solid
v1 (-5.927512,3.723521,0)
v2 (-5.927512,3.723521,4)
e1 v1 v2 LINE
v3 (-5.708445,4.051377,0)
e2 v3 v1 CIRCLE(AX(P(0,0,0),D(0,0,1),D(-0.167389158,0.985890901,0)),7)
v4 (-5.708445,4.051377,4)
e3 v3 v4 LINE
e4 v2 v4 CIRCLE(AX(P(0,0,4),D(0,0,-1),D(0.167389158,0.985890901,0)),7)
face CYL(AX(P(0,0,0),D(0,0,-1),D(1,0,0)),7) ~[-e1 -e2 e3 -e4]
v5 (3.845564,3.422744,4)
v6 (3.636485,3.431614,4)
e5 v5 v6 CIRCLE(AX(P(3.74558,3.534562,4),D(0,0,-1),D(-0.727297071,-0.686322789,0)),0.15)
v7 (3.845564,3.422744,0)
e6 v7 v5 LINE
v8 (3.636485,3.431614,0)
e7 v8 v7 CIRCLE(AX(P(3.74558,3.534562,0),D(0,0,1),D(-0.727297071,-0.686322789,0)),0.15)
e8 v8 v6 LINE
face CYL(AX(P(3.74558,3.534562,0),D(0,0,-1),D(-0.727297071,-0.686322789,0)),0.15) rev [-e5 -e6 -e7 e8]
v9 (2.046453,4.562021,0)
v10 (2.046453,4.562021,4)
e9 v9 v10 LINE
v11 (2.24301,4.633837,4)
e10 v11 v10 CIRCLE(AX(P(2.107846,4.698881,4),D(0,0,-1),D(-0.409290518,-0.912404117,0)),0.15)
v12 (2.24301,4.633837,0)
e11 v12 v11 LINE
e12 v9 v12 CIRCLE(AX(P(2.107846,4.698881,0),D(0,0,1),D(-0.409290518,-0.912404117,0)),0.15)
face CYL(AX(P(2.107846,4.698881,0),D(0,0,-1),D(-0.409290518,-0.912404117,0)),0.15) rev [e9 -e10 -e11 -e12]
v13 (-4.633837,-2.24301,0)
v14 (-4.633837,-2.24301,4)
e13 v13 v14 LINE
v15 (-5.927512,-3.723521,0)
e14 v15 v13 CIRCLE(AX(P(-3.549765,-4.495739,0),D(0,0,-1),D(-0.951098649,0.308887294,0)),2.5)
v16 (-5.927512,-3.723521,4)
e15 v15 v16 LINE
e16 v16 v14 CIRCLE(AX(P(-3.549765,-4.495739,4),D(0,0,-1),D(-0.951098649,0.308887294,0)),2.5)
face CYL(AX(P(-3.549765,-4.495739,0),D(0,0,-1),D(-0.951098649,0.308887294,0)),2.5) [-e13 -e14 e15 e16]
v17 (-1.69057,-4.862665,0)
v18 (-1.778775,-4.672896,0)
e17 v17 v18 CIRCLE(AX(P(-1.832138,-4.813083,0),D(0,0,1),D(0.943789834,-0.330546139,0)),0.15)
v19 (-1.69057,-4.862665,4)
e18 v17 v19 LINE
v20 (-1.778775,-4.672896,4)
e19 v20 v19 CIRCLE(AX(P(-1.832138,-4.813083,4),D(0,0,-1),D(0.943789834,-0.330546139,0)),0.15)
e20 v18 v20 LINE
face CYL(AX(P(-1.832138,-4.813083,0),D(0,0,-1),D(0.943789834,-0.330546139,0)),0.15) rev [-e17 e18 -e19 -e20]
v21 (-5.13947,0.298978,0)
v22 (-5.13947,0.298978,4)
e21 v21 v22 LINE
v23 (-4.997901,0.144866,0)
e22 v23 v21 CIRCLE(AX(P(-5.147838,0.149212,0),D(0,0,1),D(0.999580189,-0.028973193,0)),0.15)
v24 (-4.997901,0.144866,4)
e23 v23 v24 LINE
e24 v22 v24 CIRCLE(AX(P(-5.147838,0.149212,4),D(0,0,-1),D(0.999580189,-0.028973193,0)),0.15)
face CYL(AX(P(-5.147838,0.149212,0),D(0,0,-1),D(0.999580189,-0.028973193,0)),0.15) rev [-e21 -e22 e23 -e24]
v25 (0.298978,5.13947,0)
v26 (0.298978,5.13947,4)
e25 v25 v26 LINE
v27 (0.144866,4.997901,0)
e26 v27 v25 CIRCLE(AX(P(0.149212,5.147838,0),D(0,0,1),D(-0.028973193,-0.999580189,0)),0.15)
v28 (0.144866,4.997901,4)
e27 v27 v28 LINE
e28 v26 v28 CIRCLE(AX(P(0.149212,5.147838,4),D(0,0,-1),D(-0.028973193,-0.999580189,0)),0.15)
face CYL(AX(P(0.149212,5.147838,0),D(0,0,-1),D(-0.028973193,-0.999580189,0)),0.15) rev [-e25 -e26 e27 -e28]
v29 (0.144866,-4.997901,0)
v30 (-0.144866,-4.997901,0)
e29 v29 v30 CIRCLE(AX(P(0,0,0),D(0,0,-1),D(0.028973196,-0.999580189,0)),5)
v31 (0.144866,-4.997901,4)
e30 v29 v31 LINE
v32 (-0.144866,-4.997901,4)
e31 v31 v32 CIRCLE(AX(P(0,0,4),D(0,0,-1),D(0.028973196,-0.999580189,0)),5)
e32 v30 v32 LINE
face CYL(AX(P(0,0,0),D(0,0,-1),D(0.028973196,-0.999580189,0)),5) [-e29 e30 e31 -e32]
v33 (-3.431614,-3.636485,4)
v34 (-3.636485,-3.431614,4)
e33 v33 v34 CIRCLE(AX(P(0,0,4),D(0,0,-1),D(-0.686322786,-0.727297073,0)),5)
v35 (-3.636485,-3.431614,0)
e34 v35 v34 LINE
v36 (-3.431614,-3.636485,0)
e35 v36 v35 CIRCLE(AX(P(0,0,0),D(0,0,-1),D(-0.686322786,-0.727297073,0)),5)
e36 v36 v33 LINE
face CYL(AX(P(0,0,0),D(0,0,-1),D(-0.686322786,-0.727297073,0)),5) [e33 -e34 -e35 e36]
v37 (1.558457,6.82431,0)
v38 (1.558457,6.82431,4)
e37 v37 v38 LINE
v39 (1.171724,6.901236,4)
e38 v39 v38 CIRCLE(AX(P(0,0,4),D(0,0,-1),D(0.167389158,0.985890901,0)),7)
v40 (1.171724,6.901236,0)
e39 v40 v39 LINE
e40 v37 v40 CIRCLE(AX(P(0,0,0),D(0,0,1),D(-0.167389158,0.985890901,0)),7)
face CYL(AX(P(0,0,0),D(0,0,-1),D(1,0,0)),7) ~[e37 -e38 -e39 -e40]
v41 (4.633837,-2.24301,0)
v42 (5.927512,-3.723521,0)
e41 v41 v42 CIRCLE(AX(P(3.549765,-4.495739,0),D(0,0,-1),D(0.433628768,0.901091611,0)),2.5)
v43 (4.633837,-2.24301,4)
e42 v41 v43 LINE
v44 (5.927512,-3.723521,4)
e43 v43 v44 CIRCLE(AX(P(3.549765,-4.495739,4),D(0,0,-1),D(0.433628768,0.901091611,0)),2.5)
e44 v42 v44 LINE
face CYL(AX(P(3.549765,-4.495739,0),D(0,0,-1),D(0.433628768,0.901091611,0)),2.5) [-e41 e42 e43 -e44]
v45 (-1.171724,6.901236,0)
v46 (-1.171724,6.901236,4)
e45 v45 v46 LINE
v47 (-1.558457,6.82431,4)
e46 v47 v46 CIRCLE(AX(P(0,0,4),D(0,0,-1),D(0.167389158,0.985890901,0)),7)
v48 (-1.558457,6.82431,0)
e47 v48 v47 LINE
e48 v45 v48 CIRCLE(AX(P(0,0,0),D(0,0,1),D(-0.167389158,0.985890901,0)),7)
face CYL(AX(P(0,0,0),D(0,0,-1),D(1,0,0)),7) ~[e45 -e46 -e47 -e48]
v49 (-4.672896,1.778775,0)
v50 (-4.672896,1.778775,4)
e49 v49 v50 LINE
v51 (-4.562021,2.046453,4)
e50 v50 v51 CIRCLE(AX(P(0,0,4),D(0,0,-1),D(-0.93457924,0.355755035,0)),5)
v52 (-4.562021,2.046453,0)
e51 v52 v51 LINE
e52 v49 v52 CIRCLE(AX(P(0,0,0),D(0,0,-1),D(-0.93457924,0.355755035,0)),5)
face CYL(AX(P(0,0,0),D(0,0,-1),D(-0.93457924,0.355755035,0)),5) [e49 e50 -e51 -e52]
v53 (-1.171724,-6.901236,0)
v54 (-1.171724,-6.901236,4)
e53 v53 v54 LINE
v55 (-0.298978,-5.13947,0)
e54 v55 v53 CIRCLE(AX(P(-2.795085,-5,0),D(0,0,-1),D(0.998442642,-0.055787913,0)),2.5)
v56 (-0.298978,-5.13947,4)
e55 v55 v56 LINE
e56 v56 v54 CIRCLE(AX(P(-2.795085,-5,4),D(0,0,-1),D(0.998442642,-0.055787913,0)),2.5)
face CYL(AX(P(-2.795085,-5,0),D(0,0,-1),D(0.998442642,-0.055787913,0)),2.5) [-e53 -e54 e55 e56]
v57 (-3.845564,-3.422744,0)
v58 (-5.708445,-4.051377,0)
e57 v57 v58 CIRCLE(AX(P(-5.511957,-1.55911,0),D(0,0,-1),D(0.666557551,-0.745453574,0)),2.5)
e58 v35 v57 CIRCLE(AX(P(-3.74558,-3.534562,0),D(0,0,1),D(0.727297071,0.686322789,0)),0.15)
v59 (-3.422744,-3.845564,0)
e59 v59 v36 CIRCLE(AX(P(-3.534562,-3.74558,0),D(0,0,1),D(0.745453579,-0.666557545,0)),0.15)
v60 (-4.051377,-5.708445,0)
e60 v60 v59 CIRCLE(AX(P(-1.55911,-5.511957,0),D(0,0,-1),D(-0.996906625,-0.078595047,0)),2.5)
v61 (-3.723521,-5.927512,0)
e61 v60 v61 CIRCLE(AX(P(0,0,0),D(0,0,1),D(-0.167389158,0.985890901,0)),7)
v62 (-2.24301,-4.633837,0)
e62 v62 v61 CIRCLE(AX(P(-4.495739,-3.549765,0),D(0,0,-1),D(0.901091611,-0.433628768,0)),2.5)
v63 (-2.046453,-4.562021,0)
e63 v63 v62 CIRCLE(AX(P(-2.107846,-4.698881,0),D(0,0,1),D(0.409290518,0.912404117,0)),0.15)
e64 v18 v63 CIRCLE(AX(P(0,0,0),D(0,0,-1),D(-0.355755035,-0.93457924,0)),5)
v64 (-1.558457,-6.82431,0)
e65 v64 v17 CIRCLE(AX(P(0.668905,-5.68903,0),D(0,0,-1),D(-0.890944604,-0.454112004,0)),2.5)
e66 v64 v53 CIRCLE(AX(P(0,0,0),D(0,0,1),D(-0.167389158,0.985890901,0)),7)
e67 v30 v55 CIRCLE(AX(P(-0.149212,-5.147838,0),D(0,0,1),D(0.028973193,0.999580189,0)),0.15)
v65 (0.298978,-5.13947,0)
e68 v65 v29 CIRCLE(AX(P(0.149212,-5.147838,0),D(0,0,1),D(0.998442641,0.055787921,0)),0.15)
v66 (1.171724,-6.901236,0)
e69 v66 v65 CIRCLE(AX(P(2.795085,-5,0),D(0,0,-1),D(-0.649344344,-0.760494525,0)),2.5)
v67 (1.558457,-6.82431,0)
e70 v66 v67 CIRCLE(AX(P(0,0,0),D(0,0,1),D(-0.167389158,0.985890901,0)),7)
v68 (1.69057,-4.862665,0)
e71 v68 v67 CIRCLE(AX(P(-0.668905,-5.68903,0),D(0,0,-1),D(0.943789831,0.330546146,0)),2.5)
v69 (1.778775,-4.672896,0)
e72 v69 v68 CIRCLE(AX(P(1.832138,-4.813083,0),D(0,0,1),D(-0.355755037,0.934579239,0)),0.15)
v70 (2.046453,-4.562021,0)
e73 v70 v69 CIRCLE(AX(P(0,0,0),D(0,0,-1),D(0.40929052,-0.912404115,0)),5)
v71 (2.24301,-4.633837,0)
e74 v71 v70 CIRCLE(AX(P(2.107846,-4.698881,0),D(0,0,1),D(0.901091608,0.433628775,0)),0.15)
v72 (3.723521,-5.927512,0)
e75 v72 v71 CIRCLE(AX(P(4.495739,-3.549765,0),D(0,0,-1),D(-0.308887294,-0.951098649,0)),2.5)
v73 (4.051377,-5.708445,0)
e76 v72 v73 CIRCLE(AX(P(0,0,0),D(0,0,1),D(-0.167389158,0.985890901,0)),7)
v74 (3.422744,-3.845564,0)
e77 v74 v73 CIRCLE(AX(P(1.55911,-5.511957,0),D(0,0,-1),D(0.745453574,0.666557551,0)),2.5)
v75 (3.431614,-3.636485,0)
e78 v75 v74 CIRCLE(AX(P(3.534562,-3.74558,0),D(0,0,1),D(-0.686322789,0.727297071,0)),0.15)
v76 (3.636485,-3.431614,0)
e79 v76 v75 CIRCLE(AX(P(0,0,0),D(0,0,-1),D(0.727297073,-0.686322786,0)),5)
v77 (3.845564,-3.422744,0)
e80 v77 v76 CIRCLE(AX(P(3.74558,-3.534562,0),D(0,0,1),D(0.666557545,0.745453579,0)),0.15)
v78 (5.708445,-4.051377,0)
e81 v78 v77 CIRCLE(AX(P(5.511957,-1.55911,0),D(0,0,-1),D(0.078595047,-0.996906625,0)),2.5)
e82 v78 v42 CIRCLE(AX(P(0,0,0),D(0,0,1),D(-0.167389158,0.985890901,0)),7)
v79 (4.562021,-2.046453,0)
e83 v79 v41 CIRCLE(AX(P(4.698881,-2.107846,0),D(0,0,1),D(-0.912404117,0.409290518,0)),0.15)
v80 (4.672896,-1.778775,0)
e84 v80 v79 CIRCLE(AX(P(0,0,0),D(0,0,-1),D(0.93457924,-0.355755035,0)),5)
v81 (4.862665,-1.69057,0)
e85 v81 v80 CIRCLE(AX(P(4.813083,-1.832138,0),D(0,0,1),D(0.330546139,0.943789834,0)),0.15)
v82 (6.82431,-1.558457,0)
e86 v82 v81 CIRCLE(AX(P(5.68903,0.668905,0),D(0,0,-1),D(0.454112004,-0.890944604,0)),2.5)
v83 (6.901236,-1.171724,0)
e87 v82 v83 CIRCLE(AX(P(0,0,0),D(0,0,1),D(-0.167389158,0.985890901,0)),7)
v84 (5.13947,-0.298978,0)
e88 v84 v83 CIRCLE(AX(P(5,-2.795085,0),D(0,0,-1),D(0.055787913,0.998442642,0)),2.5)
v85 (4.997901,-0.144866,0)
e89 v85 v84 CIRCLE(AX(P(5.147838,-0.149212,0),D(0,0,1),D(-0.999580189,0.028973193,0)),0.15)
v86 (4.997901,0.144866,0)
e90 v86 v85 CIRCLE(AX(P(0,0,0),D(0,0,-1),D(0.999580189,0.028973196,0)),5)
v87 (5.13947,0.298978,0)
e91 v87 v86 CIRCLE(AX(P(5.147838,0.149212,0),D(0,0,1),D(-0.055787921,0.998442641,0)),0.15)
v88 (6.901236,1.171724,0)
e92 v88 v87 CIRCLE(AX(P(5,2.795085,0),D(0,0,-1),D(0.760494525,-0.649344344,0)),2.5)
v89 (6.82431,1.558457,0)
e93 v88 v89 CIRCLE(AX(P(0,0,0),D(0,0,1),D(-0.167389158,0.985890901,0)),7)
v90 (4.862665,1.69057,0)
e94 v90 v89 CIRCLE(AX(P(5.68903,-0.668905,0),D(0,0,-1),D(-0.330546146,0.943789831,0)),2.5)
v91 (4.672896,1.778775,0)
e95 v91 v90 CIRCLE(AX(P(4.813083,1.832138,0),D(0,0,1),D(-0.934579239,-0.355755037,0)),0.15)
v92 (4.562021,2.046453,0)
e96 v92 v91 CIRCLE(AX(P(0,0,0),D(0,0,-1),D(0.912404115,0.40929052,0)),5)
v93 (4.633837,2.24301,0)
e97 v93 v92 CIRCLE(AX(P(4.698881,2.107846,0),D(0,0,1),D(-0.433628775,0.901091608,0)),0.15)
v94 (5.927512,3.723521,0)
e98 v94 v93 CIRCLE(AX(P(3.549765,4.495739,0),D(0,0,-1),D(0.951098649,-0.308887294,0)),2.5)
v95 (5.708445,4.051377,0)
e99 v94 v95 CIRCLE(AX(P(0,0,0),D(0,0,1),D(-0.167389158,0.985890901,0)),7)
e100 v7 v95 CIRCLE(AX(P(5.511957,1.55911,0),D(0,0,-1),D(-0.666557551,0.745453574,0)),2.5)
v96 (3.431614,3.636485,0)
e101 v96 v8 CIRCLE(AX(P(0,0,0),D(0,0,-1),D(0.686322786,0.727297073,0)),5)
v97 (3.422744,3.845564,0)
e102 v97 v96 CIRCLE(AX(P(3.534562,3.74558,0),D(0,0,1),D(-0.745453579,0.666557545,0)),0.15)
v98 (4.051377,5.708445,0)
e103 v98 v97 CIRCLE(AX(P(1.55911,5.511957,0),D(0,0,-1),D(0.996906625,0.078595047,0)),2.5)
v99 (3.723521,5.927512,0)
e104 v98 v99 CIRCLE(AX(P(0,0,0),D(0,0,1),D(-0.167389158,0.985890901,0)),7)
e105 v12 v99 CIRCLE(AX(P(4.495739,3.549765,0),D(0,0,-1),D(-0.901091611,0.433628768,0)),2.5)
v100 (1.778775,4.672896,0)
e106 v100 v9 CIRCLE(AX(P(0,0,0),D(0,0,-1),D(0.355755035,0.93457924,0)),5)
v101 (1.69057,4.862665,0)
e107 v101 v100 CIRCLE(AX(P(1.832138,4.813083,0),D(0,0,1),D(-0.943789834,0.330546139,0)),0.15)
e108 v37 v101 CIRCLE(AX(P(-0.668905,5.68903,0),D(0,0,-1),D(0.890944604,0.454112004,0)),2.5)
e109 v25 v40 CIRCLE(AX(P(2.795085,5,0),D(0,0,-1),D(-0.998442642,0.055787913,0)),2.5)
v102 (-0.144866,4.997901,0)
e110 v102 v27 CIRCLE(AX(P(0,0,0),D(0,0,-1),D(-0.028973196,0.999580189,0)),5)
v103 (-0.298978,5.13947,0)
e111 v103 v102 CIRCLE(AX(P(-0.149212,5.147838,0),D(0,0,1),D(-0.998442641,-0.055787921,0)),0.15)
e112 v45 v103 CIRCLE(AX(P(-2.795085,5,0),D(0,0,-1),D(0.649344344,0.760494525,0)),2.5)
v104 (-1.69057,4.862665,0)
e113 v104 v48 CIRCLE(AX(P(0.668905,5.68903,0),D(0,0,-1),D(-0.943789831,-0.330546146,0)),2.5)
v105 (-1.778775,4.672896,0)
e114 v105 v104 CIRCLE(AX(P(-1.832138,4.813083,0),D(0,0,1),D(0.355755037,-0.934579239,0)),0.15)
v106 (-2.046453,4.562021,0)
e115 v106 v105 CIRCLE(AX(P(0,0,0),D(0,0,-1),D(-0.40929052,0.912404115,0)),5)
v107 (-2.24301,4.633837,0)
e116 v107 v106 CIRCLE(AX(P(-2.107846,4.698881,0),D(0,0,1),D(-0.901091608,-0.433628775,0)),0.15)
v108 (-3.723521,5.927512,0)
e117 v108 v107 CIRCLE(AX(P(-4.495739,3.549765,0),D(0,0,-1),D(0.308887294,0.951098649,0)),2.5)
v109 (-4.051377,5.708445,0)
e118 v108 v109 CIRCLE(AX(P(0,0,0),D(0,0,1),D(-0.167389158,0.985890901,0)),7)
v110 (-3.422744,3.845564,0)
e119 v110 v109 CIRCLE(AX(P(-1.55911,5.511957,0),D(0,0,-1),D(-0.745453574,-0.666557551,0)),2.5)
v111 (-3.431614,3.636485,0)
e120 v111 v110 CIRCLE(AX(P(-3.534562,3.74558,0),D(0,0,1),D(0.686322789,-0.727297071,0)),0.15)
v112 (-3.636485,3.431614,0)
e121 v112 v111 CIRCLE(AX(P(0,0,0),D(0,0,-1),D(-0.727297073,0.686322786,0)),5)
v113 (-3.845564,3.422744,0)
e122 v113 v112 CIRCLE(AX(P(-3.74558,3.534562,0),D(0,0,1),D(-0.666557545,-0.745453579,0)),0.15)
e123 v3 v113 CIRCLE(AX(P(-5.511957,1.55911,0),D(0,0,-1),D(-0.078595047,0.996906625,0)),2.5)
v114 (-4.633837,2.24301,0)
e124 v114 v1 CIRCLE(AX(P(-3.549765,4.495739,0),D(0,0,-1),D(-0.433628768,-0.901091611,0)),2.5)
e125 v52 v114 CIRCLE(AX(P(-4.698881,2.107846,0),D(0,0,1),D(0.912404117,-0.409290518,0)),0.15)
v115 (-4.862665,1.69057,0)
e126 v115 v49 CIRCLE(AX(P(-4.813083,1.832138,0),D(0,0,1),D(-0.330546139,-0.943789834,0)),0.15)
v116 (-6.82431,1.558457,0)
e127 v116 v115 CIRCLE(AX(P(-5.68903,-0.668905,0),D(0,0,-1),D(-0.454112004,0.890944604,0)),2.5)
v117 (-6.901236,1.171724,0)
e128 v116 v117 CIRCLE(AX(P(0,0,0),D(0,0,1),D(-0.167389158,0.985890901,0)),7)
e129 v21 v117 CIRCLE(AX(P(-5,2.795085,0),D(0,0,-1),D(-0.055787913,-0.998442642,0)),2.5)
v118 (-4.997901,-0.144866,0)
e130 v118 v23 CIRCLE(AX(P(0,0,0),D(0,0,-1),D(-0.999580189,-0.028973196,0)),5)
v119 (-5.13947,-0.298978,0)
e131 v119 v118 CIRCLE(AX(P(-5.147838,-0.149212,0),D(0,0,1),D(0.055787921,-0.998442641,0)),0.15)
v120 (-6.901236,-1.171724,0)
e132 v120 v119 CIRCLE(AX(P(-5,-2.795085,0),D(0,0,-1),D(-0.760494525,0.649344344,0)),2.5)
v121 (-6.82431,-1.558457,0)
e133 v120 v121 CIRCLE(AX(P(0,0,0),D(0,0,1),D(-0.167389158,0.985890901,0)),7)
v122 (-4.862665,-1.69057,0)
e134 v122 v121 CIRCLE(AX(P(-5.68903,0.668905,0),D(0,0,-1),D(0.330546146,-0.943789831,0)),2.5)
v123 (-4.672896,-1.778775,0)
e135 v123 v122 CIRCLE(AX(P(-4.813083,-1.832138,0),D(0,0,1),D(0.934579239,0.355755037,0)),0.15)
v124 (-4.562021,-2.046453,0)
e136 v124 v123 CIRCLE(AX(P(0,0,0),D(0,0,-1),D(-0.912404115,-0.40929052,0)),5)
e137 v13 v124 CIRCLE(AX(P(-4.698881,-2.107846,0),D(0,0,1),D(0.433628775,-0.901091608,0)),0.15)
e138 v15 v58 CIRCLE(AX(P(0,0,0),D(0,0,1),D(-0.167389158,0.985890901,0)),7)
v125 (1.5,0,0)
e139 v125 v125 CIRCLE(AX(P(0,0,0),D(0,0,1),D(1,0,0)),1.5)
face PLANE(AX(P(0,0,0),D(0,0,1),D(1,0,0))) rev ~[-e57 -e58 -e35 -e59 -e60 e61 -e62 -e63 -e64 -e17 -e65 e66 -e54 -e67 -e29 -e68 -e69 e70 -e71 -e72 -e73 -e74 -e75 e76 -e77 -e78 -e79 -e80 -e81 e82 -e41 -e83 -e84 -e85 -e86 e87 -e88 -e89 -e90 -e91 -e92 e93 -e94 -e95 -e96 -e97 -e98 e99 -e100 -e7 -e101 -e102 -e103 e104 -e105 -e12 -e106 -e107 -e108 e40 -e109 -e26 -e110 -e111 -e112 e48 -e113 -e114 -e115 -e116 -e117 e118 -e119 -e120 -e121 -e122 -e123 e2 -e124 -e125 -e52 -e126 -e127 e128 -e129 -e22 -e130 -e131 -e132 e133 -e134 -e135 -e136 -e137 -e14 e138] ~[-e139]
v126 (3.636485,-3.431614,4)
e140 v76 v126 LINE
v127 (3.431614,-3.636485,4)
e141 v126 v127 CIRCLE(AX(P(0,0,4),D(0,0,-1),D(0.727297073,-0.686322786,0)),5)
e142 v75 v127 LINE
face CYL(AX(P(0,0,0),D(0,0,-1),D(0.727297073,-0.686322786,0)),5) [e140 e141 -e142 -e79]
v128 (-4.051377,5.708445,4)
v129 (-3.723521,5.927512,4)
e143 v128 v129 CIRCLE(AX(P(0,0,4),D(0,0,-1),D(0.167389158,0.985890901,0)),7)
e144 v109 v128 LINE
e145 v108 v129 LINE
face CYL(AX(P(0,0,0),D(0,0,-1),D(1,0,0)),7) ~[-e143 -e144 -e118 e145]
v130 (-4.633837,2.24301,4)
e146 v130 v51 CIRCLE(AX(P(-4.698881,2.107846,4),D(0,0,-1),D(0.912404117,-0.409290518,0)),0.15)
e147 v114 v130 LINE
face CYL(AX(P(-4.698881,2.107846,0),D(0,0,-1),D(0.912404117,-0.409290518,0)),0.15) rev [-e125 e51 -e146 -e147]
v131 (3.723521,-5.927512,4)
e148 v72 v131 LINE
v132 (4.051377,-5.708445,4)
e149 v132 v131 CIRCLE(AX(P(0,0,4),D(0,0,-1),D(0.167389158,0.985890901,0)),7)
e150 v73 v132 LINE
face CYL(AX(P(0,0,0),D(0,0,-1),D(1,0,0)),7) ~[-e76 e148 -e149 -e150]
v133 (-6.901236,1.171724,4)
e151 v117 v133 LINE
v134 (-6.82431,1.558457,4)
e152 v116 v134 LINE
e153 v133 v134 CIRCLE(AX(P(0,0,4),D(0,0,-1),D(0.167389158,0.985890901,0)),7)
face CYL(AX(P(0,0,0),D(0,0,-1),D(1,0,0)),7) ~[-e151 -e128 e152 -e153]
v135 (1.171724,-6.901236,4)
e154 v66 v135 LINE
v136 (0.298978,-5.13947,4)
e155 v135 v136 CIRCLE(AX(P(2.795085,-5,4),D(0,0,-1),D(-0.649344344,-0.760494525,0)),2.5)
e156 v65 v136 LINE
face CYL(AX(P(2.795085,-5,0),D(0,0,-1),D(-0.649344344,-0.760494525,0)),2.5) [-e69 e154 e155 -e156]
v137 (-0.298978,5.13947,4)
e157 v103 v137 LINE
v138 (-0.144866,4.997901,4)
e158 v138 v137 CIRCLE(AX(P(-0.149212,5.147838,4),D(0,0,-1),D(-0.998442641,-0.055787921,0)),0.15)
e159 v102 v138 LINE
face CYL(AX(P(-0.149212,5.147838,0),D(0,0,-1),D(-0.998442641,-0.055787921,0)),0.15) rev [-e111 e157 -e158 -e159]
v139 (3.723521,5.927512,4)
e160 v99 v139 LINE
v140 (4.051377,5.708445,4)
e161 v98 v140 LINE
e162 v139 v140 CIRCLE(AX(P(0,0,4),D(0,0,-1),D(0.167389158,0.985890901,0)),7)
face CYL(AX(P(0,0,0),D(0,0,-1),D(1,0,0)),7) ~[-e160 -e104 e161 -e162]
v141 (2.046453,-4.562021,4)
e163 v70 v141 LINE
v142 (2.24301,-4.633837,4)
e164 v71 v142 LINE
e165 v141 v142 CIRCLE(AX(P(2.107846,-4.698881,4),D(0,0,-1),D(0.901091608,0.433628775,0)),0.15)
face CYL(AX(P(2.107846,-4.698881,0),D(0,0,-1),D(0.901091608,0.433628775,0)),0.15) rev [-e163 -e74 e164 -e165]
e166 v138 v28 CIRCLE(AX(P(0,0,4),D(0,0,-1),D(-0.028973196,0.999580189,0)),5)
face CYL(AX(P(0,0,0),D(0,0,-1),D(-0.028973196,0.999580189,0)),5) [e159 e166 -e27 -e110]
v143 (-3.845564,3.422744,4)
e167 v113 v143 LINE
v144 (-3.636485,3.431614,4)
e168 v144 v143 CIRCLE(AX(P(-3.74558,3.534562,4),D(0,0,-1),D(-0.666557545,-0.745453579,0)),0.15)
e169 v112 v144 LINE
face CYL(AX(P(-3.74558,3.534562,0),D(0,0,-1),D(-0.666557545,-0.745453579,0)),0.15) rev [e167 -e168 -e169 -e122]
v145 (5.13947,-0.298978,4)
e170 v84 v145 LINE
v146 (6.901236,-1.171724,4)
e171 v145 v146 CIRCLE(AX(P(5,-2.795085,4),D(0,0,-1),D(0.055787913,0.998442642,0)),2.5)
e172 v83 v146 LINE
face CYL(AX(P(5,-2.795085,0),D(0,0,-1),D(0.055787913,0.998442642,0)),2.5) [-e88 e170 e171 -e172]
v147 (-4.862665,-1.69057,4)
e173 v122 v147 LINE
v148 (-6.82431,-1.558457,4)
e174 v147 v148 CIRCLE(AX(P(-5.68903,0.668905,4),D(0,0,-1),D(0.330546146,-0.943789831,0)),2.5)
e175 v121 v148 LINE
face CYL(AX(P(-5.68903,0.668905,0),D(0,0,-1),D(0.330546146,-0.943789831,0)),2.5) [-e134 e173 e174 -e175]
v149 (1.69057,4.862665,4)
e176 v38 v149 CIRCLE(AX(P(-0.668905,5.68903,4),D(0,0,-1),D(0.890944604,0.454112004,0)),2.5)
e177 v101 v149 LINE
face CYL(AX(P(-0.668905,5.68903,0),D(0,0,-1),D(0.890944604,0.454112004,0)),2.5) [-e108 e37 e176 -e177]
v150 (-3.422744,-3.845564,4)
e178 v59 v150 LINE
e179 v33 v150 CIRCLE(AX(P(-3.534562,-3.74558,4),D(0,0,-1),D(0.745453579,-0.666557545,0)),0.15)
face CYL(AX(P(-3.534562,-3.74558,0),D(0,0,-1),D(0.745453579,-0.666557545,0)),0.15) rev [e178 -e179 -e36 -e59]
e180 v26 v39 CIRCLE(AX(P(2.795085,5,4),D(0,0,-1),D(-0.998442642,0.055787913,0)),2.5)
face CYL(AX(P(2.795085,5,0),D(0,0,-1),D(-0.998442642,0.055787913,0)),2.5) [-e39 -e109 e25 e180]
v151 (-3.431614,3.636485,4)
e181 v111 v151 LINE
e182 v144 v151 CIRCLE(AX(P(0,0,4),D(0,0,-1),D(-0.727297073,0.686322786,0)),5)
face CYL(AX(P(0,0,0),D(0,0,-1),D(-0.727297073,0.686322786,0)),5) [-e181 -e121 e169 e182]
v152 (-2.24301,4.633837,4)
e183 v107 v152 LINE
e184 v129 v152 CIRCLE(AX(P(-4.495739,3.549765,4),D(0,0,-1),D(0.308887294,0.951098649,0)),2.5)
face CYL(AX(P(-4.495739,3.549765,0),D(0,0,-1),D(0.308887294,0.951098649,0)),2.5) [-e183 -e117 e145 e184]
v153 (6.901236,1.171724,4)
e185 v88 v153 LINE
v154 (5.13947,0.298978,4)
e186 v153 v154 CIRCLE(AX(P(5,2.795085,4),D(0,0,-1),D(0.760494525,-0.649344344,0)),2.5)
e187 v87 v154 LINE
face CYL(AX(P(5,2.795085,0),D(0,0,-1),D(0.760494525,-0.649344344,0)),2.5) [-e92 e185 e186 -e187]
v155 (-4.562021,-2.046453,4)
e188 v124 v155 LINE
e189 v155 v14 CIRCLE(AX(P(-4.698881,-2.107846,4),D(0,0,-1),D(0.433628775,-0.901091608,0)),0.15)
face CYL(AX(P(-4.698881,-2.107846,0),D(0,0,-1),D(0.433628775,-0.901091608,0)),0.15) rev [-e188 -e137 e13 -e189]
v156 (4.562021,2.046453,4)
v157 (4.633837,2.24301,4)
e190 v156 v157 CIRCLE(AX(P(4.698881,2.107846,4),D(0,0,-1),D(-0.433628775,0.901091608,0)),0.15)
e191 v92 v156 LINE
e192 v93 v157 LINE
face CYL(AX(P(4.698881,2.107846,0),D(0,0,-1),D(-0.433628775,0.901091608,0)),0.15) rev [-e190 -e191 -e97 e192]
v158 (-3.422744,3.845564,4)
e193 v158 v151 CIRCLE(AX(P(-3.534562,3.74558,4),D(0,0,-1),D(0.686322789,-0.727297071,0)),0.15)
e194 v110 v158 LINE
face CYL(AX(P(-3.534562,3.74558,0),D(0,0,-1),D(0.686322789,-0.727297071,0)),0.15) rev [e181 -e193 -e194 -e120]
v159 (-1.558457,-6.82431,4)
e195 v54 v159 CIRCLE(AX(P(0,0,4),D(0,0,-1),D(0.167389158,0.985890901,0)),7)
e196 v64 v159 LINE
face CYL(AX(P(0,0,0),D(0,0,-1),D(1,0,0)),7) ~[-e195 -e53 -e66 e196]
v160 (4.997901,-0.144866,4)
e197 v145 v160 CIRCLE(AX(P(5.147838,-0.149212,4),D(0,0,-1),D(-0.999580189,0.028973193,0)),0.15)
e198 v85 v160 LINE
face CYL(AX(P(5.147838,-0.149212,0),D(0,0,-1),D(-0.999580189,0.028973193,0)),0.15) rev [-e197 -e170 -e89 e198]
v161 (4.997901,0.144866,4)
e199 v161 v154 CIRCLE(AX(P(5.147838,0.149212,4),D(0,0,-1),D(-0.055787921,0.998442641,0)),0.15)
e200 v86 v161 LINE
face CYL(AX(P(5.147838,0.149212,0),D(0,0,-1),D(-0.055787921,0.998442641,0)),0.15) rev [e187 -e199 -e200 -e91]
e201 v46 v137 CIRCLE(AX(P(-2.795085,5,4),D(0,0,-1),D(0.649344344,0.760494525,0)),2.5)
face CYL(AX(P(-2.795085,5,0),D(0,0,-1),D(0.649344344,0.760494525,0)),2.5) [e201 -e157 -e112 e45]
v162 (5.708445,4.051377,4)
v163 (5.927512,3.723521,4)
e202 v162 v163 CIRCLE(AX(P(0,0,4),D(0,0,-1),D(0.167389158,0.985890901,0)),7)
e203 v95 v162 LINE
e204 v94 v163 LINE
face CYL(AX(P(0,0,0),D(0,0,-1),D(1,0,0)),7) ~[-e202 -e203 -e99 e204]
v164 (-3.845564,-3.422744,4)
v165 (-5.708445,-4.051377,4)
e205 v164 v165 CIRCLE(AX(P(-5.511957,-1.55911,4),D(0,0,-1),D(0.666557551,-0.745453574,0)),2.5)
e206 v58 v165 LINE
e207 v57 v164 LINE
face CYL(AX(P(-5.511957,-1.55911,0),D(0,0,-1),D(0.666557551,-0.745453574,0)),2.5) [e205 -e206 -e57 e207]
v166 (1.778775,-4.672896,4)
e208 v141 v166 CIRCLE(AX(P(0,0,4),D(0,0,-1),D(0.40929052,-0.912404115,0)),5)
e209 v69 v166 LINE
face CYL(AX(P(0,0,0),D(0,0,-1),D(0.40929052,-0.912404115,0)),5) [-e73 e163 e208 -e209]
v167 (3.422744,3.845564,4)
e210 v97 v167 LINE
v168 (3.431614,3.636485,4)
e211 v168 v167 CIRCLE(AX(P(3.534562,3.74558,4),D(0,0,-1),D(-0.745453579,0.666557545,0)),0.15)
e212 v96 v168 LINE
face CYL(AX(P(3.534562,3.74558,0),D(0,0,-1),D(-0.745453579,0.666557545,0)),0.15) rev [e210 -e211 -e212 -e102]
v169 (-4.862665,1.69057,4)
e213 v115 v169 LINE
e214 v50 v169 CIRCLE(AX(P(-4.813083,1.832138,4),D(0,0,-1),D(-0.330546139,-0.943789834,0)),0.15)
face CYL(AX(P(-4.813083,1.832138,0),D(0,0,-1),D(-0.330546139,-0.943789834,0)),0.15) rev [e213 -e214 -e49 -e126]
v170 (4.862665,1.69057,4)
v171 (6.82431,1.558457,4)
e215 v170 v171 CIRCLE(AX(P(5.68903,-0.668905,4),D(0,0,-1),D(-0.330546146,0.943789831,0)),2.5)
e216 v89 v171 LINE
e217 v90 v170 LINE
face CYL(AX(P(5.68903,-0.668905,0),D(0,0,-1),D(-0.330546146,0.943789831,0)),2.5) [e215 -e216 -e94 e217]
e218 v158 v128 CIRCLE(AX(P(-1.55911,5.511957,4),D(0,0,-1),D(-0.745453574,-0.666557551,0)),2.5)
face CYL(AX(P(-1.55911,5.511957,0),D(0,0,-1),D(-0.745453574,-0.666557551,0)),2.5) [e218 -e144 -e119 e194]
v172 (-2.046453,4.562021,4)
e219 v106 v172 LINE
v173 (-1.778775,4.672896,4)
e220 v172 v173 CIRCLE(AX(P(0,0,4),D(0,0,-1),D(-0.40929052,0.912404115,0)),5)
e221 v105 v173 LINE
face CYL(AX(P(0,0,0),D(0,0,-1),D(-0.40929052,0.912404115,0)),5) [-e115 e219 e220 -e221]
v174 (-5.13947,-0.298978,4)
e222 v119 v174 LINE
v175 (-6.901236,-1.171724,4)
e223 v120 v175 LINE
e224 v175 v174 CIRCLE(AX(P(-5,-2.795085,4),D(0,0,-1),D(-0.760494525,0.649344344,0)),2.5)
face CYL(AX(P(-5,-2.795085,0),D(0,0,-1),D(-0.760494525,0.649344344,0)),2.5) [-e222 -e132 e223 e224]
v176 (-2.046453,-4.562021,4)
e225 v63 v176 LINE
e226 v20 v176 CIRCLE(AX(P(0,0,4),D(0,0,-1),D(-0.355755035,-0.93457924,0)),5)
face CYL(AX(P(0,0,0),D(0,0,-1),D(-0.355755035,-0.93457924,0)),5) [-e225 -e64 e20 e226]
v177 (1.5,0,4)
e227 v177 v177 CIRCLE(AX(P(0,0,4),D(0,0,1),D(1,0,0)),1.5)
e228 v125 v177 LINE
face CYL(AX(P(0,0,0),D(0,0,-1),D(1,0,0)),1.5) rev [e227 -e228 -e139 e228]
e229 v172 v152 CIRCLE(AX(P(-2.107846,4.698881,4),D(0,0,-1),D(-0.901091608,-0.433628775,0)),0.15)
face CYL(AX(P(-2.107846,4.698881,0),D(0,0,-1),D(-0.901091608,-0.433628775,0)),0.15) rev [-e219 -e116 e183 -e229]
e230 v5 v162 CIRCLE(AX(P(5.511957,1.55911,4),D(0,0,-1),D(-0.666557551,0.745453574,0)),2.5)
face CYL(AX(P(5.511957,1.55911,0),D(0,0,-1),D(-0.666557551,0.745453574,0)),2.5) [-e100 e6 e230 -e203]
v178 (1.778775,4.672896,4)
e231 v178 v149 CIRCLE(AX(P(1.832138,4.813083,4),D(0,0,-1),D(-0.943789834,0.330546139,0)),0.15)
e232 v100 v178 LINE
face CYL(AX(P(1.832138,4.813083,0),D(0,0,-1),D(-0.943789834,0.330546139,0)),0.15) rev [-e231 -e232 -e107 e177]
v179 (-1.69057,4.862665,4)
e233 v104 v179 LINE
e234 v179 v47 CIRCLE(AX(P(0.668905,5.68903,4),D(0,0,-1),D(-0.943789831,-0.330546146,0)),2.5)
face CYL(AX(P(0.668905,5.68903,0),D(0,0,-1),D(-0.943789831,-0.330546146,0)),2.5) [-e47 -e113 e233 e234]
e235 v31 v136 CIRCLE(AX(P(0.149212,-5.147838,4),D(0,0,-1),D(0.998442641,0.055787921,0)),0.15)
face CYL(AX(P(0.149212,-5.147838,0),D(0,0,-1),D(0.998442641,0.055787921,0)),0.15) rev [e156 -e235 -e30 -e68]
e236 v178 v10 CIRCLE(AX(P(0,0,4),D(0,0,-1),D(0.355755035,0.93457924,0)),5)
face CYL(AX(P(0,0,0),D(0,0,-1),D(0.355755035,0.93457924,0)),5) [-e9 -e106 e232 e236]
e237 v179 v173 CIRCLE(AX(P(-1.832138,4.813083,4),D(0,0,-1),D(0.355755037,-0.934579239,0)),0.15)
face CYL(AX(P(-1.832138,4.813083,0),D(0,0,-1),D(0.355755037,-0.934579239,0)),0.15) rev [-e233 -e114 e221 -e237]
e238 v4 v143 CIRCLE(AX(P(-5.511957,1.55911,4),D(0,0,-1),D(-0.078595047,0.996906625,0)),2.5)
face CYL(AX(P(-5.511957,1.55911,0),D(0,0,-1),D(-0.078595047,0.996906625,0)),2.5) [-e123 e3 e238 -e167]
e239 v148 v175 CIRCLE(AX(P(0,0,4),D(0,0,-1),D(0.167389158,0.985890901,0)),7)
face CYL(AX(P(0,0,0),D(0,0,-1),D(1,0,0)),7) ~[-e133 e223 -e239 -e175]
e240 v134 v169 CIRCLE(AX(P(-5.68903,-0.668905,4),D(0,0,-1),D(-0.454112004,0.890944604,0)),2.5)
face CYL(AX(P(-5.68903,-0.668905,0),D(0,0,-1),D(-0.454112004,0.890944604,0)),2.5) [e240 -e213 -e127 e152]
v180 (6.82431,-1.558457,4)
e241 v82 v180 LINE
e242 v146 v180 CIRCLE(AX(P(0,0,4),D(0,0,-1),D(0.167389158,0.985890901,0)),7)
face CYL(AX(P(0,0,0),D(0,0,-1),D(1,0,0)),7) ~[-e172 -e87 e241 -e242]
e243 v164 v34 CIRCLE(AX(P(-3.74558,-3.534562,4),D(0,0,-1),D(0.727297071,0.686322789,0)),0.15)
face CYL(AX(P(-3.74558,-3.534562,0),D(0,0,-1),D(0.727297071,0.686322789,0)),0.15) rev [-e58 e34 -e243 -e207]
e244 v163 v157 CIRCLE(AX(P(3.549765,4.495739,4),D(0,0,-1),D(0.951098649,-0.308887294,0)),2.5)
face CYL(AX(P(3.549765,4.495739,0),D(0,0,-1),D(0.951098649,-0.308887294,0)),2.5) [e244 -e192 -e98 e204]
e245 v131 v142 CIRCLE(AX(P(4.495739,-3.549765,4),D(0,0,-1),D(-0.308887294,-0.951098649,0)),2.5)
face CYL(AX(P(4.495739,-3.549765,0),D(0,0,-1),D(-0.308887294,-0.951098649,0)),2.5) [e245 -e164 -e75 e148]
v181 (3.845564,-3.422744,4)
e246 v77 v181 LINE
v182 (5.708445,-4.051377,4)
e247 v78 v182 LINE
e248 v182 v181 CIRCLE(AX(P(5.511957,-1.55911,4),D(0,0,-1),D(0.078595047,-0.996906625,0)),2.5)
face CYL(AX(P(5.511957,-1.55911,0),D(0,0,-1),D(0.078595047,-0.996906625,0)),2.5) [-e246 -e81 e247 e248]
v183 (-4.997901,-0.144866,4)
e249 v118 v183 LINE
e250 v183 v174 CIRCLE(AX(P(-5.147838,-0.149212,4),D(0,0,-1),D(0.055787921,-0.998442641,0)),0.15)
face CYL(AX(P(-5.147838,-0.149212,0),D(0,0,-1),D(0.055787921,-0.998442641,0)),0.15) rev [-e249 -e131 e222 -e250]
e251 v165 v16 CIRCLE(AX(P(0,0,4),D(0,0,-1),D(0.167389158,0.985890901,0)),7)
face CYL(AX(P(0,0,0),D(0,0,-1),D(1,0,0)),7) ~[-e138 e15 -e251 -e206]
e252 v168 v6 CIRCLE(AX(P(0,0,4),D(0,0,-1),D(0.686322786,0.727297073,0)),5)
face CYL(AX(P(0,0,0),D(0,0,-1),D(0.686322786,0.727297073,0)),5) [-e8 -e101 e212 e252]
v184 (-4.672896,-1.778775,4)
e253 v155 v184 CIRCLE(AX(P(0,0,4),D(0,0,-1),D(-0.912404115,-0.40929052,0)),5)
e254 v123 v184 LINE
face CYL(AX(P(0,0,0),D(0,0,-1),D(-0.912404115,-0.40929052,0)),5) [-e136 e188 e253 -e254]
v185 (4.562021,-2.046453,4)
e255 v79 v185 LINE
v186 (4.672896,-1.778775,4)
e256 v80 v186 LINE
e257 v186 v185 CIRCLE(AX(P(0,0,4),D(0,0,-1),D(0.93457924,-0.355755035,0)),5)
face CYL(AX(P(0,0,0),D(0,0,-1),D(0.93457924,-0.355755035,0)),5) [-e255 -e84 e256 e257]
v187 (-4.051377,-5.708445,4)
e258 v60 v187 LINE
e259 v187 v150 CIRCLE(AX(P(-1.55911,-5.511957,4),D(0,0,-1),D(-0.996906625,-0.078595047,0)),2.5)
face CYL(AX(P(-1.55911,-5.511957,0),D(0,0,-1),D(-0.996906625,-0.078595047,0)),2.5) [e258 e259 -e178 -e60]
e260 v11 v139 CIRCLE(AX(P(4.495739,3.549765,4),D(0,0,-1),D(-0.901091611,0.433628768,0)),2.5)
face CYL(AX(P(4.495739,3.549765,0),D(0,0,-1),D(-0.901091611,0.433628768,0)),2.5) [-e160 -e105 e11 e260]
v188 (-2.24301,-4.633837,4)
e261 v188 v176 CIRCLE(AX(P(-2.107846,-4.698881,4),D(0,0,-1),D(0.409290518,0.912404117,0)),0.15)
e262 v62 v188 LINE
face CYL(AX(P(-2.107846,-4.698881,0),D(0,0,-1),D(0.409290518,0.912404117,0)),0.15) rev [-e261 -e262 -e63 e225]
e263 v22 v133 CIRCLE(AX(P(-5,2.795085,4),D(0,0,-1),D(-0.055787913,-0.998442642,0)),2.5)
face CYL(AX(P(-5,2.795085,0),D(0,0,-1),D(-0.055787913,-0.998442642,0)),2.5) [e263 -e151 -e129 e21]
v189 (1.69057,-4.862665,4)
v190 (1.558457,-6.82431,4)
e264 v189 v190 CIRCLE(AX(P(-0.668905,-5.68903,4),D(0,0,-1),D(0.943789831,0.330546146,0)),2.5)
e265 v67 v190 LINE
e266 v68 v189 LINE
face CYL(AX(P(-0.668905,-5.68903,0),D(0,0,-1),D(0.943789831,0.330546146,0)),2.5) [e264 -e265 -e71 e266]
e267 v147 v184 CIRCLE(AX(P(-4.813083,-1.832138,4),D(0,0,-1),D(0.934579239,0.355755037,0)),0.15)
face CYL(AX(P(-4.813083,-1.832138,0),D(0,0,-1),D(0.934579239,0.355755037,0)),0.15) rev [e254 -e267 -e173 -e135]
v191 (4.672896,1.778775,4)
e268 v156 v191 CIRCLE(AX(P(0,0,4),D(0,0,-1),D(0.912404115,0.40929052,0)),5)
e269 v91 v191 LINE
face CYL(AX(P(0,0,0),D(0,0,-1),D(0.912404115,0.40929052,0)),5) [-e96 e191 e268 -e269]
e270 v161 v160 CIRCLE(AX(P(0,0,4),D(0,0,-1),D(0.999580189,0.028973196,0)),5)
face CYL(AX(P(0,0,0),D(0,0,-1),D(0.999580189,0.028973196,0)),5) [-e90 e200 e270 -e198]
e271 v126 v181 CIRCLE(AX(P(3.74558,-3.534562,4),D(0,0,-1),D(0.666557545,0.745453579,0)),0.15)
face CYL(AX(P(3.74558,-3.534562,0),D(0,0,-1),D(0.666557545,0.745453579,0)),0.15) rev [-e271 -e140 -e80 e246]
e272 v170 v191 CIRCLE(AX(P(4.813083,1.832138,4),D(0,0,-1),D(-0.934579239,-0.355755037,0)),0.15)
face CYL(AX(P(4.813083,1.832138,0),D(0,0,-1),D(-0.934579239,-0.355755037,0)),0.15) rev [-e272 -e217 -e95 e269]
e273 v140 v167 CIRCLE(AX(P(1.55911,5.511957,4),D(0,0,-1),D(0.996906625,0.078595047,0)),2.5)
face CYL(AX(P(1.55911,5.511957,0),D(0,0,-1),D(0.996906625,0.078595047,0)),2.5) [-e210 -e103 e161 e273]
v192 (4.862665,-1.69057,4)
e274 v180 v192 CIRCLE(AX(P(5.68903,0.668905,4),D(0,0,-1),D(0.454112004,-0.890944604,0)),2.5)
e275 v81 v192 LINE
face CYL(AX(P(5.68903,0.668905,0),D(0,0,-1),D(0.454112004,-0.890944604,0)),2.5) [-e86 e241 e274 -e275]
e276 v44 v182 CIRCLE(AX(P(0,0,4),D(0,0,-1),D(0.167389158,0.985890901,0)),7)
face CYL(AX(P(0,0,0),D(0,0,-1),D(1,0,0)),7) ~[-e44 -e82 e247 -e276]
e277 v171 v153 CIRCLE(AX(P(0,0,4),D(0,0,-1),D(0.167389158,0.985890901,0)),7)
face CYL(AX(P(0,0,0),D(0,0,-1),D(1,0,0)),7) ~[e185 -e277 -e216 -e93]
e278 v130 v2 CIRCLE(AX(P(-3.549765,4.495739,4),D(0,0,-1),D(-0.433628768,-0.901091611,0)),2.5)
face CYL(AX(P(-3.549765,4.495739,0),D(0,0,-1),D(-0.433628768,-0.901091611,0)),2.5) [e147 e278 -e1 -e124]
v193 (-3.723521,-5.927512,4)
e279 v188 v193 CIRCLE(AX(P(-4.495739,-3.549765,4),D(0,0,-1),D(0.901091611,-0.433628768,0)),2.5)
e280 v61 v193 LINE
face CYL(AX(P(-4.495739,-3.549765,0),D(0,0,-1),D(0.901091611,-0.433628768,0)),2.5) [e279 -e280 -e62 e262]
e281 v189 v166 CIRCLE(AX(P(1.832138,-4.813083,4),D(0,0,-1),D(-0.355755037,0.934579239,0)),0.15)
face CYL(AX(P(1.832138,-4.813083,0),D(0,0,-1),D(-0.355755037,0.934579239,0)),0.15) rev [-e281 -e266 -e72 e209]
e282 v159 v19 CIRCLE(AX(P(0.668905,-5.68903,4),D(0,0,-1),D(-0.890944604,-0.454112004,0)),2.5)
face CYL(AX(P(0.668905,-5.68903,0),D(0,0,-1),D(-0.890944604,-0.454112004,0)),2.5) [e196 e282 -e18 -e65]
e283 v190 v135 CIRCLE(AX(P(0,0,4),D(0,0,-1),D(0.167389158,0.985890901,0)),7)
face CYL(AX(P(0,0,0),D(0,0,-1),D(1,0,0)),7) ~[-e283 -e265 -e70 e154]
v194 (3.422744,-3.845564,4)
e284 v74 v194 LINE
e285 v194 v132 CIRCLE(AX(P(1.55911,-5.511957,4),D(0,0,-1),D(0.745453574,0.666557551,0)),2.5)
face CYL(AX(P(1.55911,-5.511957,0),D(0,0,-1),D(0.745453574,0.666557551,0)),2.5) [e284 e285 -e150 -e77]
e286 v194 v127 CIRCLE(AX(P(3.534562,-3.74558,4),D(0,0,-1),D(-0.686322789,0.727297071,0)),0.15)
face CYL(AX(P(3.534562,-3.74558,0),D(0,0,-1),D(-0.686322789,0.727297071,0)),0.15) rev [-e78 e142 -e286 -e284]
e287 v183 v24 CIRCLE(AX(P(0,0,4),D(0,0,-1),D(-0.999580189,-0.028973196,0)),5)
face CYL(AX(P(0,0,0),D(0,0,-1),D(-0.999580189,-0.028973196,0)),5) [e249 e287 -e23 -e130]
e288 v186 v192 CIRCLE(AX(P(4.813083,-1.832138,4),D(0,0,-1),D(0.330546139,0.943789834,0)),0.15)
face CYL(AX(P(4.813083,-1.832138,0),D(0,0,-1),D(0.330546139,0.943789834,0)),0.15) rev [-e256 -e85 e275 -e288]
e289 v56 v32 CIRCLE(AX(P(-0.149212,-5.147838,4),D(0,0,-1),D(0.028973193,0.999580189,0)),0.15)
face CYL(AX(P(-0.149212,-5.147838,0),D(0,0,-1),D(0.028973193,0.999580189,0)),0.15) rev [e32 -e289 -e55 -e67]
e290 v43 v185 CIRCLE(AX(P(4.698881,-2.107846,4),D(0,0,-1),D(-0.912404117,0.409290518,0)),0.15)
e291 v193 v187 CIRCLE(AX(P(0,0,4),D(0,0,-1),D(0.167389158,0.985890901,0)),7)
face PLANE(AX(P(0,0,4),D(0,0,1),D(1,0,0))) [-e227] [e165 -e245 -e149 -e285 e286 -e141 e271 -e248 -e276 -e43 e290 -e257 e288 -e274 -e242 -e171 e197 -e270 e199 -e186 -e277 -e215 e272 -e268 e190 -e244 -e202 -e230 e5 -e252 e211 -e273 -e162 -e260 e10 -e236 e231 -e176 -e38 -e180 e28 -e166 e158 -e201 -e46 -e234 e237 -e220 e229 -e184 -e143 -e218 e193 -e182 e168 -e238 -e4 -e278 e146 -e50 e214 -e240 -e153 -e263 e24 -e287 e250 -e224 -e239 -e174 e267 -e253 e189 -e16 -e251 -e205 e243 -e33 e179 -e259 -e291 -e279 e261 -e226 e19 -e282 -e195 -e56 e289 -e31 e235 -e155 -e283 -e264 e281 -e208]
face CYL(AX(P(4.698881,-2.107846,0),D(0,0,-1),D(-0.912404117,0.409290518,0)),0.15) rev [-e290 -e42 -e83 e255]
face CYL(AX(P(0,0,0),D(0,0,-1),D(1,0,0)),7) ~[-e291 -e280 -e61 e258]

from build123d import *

# Parameters (mm, degrees)
SKETCH1_R           = 7
SKETCH1_R_2         = 1.5
BOSS_EXTRUDE1_DEPTH = 4
CUT_EXTRUDE2_DEPTH  = 5
CIRPATTERN2_COUNT   = 16


with BuildPart() as part:
    # Sketch1 → Boss-Extrude1 (new body)
    with BuildSketch(Plane.XY):
        Circle(SKETCH1_R)
        Circle(SKETCH1_R_2, mode=Mode.SUBTRACT)
    extrude(amount=BOSS_EXTRUDE1_DEPTH)

    # Sketch4 → Cut-Extrude2 (cut, through all)
    with BuildSketch(Plane.XY):
        with BuildLine():
            ThreePointArc((-0.144865992, 4.997900944), (0, 5), (0.144865992, 4.997900944))
            ThreePointArc((0.144865992, 4.997900944), (0.250687134, 5.037371727), (0.298978368, 5.139469785))
            ThreePointArc((0.298978368, 5.139469785), (0.554893378, 6.109748451), (1.171724109, 6.90123631))
            ThreePointArc((1.171724109, 6.90123631), (0, 7), (-1.171724109, 6.90123631))
            ThreePointArc((-1.171724109, 6.90123631), (-0.554893378, 6.109748451), (-0.298978368, 5.139469785))
            ThreePointArc((-0.298978368, 5.139469785), (-0.250687134, 5.037371727), (-0.144865992, 4.997900944))
        make_face()
    cut_extrude2 = extrude(amount=CUT_EXTRUDE2_DEPTH, mode=Mode.SUBTRACT)

    # CirPattern2: Cut-Extrude2 ×16 about axis
    cirpattern2_axis = Axis((0, 0, 0), (0, 0, 1))
    for i in range(1, CIRPATTERN2_COUNT):
        add(cut_extrude2.rotate(cirpattern2_axis, i * 360 / CIRPATTERN2_COUNT), mode=Mode.SUBTRACT)


solid = part.part
